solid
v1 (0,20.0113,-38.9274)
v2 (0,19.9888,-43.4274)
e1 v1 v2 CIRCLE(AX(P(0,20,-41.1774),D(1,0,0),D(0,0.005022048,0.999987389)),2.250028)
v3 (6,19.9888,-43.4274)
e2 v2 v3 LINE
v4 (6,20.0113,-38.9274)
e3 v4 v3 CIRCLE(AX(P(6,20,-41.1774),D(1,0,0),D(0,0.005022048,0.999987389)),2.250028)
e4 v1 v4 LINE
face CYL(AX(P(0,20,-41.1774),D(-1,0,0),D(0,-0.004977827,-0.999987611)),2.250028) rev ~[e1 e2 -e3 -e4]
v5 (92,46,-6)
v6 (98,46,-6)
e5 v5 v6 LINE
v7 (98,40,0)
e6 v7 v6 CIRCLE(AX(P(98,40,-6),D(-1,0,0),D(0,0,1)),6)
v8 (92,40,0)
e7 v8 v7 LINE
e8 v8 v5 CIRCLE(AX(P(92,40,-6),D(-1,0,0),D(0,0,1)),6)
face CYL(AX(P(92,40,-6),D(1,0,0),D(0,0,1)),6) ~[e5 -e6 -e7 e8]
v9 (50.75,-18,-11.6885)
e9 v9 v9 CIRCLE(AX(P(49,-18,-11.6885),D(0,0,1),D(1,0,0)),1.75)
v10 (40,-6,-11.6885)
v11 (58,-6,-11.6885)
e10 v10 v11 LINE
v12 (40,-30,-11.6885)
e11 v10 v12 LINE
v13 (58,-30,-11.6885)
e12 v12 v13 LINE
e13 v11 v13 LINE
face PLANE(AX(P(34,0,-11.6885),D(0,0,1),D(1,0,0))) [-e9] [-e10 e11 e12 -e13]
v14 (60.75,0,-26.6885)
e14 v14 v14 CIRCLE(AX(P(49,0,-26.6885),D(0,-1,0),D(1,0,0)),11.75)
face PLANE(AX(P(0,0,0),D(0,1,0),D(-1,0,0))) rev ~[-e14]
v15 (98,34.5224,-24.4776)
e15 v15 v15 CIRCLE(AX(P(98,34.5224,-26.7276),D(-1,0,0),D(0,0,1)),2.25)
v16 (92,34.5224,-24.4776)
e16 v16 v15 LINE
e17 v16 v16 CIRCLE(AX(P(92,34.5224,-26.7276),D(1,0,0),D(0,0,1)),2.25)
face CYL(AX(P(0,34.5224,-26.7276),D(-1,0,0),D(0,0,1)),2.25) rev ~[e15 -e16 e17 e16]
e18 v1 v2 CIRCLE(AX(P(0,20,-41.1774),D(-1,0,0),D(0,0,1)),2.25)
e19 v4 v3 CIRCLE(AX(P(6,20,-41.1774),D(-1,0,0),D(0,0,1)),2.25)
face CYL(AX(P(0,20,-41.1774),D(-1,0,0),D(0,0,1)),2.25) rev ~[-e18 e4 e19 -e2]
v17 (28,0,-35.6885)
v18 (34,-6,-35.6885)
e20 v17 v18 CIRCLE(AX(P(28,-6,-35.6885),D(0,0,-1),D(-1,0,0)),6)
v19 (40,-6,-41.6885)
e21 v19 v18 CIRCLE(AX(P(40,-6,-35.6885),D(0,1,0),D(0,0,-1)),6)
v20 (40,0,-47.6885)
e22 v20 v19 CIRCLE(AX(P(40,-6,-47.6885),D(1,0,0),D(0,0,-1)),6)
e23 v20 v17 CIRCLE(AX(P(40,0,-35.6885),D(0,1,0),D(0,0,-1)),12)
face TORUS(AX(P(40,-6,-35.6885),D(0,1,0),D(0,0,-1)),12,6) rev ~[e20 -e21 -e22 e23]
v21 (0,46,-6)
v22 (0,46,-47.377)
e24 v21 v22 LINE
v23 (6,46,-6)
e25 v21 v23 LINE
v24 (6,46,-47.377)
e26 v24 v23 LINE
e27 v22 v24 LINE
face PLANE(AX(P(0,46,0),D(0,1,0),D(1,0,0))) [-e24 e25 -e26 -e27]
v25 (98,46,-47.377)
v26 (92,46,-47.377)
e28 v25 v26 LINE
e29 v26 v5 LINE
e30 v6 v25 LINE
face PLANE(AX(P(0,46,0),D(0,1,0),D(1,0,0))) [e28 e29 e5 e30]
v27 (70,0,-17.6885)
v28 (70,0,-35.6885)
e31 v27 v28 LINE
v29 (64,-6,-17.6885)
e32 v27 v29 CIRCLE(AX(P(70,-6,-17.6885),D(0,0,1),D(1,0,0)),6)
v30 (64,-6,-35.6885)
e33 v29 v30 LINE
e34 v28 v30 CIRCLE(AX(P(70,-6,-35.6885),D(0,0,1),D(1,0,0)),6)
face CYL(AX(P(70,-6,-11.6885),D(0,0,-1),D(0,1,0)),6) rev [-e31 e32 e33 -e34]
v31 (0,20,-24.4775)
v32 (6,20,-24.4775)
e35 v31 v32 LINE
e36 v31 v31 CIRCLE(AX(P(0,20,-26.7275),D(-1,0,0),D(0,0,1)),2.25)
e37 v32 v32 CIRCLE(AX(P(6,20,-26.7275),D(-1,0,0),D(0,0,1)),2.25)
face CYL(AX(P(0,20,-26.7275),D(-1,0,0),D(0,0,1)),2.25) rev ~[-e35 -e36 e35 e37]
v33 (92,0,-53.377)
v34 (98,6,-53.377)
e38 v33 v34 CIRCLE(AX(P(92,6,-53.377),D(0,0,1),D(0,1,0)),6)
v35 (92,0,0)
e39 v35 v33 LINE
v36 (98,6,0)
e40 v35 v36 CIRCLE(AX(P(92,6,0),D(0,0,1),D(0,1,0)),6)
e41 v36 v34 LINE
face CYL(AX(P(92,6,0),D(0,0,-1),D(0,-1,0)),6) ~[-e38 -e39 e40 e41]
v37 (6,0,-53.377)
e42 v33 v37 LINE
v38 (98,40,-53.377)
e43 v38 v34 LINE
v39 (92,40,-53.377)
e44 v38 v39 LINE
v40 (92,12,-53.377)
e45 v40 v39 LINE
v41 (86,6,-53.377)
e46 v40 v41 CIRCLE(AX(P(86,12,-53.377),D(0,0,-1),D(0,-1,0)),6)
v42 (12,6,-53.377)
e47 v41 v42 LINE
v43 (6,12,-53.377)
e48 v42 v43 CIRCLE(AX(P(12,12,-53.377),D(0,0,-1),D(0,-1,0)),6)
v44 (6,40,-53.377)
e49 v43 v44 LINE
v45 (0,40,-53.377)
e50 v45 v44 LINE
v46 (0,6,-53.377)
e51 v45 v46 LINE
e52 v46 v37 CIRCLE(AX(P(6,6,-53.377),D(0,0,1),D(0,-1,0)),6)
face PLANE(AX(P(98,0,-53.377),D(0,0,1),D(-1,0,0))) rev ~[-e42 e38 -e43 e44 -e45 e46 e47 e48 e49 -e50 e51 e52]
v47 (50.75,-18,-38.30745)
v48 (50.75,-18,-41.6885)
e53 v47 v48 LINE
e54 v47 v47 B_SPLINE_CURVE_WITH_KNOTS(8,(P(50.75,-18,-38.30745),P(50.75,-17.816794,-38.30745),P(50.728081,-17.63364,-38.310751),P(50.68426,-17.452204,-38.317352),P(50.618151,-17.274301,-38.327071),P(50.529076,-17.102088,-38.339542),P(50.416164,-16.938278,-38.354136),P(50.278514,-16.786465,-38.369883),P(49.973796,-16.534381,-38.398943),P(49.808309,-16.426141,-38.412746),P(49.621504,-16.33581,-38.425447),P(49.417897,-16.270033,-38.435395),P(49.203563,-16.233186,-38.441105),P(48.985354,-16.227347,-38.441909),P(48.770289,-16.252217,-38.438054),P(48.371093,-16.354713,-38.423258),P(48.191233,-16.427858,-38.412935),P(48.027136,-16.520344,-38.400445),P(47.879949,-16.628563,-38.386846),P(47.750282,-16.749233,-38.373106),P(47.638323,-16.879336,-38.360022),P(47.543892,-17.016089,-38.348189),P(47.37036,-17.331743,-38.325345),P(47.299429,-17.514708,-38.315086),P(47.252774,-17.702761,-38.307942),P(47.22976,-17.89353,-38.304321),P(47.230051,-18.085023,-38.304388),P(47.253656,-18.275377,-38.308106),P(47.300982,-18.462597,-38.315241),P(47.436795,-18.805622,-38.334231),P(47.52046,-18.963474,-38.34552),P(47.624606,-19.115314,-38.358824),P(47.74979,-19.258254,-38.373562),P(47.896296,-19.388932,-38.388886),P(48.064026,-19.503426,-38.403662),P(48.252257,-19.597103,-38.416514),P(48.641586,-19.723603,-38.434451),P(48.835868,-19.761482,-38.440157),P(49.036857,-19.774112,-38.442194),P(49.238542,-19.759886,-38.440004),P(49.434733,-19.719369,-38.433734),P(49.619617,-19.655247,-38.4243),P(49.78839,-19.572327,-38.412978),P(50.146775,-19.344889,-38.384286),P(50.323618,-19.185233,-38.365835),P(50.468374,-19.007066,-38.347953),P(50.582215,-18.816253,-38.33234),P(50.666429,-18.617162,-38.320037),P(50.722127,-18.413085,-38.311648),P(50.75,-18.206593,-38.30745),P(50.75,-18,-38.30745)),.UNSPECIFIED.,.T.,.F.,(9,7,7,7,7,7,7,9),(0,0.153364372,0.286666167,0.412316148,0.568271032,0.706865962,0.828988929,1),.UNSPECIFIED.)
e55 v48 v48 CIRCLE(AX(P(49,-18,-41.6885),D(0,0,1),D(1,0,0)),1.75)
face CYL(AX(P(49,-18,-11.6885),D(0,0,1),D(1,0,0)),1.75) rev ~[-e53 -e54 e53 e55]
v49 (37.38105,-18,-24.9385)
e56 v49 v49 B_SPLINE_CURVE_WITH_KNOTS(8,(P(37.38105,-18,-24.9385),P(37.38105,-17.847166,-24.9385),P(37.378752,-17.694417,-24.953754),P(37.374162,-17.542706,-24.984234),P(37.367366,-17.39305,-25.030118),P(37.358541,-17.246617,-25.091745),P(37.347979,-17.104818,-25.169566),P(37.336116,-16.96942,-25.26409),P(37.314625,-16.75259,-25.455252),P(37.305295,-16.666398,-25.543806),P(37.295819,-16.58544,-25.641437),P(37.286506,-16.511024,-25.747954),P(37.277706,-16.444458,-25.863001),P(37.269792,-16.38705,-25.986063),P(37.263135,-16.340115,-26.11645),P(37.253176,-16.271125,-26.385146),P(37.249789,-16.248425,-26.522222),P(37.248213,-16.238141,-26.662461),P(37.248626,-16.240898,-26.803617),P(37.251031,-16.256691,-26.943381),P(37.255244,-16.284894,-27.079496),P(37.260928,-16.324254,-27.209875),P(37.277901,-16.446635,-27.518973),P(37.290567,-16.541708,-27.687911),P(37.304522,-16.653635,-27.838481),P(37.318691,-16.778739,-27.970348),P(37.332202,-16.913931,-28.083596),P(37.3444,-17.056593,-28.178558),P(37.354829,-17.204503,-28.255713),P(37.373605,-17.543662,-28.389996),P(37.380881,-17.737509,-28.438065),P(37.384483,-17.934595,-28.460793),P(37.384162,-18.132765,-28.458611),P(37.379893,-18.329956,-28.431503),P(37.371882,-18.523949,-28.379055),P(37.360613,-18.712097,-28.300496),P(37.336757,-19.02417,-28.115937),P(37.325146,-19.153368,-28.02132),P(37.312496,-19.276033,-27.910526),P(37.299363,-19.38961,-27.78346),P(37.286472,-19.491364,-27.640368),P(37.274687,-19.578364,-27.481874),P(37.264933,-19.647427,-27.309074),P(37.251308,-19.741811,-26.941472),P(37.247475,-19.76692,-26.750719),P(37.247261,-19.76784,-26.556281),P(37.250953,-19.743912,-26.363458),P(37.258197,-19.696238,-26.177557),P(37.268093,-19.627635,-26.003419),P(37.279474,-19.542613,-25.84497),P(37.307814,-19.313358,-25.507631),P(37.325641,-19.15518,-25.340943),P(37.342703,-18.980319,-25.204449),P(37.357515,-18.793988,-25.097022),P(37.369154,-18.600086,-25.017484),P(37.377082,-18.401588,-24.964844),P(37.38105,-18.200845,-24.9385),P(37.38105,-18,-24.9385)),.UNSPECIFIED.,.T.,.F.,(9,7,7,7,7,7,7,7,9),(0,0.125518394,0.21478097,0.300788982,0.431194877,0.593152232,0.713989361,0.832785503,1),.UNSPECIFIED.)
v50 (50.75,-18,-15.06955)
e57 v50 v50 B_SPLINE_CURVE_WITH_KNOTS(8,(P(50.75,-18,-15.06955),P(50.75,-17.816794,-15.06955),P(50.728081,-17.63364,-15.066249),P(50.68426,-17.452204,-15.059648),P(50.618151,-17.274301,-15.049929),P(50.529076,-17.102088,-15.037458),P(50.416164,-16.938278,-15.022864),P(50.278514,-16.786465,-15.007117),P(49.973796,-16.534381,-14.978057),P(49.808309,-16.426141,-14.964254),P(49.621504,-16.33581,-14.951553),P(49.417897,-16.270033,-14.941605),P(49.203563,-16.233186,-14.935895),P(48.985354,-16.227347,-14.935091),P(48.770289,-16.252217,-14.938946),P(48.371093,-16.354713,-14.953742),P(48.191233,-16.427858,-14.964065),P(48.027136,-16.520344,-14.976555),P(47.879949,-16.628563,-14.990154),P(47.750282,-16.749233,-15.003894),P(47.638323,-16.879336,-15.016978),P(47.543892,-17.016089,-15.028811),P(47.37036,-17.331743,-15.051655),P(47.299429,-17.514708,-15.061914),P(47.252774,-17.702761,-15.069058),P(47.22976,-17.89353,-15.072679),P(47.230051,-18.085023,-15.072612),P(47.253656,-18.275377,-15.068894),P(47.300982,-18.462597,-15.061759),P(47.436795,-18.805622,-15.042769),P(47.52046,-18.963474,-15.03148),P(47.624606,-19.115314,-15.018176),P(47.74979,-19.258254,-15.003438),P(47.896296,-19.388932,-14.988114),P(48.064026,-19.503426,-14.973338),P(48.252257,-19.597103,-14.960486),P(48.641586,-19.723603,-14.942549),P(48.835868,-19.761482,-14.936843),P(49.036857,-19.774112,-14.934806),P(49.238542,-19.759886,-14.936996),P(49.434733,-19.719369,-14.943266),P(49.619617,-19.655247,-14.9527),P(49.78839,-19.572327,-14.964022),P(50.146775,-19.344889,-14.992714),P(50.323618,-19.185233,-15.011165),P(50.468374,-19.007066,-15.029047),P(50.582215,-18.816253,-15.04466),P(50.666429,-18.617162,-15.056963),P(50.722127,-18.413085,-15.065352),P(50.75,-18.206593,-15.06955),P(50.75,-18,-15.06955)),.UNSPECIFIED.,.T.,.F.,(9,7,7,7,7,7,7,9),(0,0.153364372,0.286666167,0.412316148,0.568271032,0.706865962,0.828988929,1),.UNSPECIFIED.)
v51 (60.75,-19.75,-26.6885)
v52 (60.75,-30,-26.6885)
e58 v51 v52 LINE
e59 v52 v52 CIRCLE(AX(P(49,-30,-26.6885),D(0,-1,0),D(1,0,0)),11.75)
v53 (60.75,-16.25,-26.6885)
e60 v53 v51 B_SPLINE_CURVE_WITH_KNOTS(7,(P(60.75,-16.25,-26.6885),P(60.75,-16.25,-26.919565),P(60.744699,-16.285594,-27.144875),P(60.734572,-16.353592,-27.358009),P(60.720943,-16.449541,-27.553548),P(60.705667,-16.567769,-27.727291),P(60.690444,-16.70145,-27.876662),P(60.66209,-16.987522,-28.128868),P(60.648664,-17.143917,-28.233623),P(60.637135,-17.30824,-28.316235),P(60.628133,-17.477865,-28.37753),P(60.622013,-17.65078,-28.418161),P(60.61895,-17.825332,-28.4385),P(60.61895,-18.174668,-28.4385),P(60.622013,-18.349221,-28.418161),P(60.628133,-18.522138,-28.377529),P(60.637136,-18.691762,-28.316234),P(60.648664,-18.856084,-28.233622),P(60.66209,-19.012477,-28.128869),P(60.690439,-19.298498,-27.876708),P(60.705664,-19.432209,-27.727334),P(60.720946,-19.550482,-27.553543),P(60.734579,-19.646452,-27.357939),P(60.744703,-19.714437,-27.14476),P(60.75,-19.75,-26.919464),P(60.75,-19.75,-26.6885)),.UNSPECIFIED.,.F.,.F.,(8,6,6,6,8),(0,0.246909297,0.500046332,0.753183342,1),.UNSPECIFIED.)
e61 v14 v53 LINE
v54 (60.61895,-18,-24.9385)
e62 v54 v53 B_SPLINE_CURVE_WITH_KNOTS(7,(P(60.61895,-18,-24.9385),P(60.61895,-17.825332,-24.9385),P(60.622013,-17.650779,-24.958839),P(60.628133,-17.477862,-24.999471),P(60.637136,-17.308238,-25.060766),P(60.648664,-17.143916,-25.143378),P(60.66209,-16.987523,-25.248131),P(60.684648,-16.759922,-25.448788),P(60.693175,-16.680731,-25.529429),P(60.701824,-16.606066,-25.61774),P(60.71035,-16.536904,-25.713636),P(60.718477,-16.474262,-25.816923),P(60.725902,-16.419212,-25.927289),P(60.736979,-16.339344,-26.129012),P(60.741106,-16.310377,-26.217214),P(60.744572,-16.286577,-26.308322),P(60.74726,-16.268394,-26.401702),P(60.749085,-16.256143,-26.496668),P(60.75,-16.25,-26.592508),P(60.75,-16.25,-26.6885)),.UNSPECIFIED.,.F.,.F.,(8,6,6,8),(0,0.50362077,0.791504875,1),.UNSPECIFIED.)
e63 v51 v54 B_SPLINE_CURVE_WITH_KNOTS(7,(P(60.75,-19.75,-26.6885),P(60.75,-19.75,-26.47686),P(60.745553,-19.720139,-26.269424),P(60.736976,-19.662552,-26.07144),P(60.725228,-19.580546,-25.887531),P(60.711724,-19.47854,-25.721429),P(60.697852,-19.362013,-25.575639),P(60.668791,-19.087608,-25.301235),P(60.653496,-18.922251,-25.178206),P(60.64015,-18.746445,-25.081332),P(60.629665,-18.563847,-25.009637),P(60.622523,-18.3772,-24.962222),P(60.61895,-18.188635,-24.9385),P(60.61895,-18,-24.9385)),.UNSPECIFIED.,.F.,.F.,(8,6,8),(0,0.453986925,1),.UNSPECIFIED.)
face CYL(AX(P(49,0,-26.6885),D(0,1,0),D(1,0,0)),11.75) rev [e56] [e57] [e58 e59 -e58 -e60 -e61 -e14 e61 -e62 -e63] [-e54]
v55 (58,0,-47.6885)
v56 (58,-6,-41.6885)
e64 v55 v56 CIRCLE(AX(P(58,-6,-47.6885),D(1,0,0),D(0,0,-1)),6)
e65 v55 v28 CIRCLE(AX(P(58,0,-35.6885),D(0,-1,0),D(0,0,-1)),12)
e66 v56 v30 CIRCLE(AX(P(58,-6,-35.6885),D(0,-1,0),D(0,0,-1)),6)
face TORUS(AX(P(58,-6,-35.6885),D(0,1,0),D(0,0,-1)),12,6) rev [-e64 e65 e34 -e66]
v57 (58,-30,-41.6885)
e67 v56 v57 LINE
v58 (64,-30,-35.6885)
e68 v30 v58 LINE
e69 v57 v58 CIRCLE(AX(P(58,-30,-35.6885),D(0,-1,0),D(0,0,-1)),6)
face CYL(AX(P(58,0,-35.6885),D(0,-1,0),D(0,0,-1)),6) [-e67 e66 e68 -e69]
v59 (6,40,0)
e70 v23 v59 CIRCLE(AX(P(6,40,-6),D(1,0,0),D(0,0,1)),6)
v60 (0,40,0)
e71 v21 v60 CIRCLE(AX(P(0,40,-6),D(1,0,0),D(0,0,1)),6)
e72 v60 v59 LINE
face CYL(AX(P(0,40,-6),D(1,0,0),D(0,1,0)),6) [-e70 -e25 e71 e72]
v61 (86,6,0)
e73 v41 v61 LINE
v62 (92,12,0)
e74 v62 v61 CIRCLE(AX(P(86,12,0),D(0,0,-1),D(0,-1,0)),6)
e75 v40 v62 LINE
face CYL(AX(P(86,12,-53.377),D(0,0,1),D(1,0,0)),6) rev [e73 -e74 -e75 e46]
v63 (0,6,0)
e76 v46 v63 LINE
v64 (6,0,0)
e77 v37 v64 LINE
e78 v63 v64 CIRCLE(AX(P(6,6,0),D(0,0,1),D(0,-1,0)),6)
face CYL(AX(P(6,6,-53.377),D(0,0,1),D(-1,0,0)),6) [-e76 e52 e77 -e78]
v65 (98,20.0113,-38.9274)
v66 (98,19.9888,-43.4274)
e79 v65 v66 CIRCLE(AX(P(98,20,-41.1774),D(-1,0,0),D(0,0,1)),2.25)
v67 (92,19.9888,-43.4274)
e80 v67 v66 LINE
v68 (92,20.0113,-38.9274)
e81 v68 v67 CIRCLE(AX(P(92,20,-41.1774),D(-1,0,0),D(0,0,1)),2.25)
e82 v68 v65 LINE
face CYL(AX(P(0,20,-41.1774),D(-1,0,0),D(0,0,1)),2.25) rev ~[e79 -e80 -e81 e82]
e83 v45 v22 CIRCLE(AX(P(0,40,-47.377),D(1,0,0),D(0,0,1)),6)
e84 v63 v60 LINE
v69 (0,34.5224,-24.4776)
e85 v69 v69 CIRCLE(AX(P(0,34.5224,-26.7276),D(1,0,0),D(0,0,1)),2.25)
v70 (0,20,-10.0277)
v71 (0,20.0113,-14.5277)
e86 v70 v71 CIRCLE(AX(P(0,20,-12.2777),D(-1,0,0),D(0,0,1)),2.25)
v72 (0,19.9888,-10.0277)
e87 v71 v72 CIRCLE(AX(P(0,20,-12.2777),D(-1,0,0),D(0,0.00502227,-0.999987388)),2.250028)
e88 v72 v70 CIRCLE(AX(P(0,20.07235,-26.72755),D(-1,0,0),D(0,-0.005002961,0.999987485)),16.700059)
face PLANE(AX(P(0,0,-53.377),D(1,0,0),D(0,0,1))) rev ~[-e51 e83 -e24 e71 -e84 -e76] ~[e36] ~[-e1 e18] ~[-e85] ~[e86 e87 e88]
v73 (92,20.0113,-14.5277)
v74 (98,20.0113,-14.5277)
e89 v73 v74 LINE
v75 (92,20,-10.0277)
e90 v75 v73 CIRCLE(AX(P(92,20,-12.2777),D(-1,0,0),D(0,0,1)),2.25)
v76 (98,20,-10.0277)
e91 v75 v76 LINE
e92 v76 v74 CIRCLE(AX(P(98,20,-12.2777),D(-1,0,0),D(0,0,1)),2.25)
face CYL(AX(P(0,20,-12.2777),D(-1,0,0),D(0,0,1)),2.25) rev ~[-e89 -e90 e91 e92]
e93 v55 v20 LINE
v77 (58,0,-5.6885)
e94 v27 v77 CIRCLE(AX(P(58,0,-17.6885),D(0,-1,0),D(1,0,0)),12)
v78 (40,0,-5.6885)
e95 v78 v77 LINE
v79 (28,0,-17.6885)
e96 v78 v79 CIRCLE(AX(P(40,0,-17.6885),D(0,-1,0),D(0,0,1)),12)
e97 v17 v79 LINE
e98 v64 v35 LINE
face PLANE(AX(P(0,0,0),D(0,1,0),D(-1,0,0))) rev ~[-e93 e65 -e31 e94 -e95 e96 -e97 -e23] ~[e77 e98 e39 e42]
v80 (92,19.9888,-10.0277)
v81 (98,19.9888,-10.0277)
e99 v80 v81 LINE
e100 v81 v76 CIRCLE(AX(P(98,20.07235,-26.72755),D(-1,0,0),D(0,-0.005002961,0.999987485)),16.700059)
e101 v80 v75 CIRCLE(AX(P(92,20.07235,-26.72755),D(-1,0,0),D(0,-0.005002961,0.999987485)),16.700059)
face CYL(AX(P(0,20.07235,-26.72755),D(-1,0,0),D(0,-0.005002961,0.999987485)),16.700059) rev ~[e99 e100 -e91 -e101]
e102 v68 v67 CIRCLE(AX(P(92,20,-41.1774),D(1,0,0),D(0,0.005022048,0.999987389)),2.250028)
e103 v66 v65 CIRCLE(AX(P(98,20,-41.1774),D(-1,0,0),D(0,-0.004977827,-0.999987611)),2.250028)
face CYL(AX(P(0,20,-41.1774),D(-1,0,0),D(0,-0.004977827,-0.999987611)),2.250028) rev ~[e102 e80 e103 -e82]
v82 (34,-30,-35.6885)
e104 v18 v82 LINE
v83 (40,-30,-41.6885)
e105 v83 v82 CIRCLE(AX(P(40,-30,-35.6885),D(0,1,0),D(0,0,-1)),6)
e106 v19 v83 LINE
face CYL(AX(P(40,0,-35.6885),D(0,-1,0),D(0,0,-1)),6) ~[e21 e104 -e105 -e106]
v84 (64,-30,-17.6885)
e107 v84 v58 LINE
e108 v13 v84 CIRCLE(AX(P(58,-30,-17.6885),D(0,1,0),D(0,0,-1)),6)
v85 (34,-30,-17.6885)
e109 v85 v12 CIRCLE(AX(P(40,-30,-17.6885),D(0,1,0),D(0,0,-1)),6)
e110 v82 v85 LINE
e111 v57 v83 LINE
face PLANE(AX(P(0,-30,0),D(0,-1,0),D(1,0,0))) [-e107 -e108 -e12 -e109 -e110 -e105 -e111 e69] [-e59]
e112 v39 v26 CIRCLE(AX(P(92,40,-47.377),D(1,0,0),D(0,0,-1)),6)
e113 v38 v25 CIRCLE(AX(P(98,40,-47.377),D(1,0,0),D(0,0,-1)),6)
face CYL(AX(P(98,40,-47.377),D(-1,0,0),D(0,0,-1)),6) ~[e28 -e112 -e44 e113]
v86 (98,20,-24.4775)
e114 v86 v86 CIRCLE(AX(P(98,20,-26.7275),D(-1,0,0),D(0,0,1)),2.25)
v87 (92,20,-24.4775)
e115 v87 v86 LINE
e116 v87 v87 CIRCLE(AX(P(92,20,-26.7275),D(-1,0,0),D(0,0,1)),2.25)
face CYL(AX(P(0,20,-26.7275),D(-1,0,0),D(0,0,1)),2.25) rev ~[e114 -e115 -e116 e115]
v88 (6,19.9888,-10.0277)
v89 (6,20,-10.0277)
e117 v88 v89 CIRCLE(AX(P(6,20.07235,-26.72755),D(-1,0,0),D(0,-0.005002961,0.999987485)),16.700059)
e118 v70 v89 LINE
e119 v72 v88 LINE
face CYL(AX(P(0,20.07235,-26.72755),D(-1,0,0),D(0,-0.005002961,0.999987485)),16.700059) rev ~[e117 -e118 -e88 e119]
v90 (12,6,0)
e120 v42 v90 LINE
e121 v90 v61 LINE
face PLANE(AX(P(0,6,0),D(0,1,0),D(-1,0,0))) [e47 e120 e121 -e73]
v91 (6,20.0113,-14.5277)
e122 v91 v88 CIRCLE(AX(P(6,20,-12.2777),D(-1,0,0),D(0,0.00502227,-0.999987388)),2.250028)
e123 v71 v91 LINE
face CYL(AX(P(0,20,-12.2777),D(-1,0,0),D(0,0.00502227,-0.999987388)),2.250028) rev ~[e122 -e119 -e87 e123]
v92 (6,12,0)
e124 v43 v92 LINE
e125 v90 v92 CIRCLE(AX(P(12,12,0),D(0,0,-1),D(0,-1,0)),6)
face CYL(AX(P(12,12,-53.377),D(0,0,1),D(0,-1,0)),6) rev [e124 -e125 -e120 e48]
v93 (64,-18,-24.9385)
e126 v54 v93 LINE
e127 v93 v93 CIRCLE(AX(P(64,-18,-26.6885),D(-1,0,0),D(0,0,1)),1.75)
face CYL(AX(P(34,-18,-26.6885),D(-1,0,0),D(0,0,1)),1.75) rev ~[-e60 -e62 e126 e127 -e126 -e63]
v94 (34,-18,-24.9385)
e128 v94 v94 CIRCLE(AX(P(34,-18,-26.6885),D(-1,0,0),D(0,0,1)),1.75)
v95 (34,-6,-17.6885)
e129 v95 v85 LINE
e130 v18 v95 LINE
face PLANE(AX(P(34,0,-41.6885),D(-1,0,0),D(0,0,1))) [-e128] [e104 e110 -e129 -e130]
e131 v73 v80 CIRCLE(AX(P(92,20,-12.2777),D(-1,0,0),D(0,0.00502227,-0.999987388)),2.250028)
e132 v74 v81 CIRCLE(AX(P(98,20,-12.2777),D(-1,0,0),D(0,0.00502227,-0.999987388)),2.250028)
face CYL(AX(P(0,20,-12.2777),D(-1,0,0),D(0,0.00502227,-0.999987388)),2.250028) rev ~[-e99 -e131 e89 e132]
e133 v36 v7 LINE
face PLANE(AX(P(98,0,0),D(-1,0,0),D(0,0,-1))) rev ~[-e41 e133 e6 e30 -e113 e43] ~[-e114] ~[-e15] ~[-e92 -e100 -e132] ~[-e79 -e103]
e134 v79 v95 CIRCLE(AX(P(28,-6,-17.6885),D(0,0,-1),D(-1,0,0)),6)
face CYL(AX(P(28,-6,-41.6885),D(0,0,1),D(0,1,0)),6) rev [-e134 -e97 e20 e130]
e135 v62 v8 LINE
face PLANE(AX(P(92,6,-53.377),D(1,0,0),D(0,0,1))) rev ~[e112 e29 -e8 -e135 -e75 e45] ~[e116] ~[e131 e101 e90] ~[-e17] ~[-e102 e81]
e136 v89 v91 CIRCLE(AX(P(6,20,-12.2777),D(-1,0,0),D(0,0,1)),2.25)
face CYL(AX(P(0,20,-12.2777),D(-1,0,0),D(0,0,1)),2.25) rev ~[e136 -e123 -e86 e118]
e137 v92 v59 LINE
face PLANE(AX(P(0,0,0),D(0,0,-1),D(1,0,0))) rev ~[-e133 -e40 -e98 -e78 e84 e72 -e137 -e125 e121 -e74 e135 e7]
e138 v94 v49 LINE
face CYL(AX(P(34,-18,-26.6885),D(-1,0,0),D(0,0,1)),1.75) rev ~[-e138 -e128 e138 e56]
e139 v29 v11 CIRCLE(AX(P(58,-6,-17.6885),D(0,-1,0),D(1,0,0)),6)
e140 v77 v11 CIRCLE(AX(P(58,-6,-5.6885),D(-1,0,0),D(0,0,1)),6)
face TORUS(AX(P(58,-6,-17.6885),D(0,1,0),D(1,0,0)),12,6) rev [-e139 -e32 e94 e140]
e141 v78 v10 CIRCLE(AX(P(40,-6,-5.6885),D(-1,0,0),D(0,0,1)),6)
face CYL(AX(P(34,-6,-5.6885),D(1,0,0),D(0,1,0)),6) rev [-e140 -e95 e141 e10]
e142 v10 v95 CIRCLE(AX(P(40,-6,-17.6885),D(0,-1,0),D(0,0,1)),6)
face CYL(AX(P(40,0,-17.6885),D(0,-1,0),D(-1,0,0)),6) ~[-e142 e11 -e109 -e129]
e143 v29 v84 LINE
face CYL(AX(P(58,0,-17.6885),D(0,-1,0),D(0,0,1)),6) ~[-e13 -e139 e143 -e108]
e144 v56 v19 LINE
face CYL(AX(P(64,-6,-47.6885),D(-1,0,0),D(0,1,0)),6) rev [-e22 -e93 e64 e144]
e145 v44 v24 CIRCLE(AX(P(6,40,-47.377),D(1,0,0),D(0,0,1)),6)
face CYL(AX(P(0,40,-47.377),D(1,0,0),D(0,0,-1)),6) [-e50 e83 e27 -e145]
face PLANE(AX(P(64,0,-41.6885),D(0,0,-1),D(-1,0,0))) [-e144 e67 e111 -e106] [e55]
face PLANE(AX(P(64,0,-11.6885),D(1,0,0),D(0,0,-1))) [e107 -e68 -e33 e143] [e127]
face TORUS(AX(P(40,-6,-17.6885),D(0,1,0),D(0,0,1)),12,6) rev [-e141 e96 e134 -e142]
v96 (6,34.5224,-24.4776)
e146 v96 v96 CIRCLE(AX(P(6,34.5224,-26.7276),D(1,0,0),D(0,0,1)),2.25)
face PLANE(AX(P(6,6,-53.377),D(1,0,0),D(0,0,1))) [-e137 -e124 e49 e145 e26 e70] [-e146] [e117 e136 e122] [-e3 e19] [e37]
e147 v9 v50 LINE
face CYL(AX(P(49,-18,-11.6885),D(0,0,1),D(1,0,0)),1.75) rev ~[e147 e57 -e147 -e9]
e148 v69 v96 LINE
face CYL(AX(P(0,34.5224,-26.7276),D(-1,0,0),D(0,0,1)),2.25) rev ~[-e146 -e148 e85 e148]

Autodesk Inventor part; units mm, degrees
ref_plane "YZ Plane" through (0, 0, 0) normal (1, 0, 0) x (0, 1, 0)
ref_plane "XZ Plane" through (0, 0, 0) normal (0, 1, 0) x (-1, 0, 0)
ref_plane "XY Plane" through (0, 0, 0) normal (0, 0, 1) x (1, 0, 0)
sketch "Sketch1" plane through (0, 0, 0) normal (0, 1, 0) x (-1, 0, 0)
  line L0 (0, 0) -> (-98, 0)
  line L1 (-98, 0) -> (-98, -53.377)
  line L2 (-98, -53.377) -> (0, -53.377)
  line L3 (0, -53.377) -> (0, 0)
  line L4 (-98, -53.377) -> (0, 0) construction
  dimension "d0" = 98
  dimension "d1" = 53.377
extrude "Extrusion1" add sketch "Sketch1" along normal blind 6
sketch "Sketch2" plane through (0, 6, 0) normal (0, 1, 0) x (1, 0, 0)
  line L0 (98, 0) -> (98, 53.377) projected
  line L1 (0, 0) -> (98, 0) projected
  line L2 (98, 53.377) -> (92, 53.377)
  line L3 (92, 53.377) -> (92, 0)
  line L4 (92, 0) -> (98, 0)
  line L5 (98, 0) -> (98, 53.377)
  line L6 (0, 53.377) -> (6, 53.377)
  line L7 (6, 53.377) -> (6, 0)
  line L8 (6, 0) -> (0, 0)
  line L9 (0, 0) -> (0, 53.377)
  dimension "d4" = 6
  dimension "d5" = 6
extrude "Extrusion2" add sketch "Sketch2" along normal blind 40
sketch "Sketch3" plane through (0, 0, -53.377) normal (-1, 0, 0) x (0, 0, 1)
  arc A0 (41.0993, 20) -> (12.1996, 20) centre (26.6494, 20.0723) ccw construction
  arc A1 (43.3493, 19.9888) -> (9.9496, 19.9888) centre (26.6494, 20.0723) ccw
  arc A2 (38.8493, 20.0113) -> (14.4496, 20.0113) centre (26.6494, 20.0723) ccw
  arc A3 (38.8493, 20.0113) -> (43.3493, 19.9888) centre (41.0993, 20) ccw
  arc A4 (9.9496, 19.9888) -> (14.4496, 20.0113) centre (12.1996, 20) ccw
  circle A5 centre (26.6495, 20) radius 2.25
  circle A6 centre (41.0993, 20) radius 2.25
  circle A7 centre (12.1996, 20) radius 2.25
  circle A8 centre (26.6494, 34.5224) radius 2.25
  point P0 (53.377, 0)
  dimension "d8" = 4.5
  dimension "d9" = 4.5
  dimension "d36" = 14.45
extrude "Extrusion3" cut sketch "Sketch3" against normal blind 110 and the other way blind 12.5 contours A3 A6 A1 | A8 | A7 A4 | A5
sketch "Sketch4" plane through (0, 0, 0) normal (0, -1, 0) x (1, 0, 0)
  line L0 (98, -53.377) -> (92, -53.377) construction
  line L1 (98, -53.377) -> (0, 0) construction
  line L2 (64, -41.6885) -> (34, -41.6885)
  line L3 (34, -41.6885) -> (34, -11.6885)
  line L4 (34, -11.6885) -> (64, -11.6885)
  line L5 (64, -11.6885) -> (64, -41.6885)
  line L6 (64, -41.6885) -> (34, -11.6885) construction
  line L7 (34, -41.6885) -> (64, -11.6885) construction
  circle A0 centre (49, -26.6885) radius 11.75
  dimension "d16" = 30
  dimension "d17" = 30
  dimension "d18" = 23.5
extrude "Extrusion4" add sketch "Sketch4" along normal blind 30
sketch "Sketch5" plane through (34, 0, -11.6885) normal (0, 0, 1) x (1, 0, 0)
  line L0 (0, -30) -> (30, -30) construction
  line L1 (30, 0) -> (0, 0) construction
  circle A0 centre (15, -18) radius 1.75
  point P0 (-34, 0)
  dimension "d21" = 3.5
  dimension "d26" = 12
extrude "Extrusion5" cut sketch "Sketch5" against normal blind 33
sketch "Sketch7" plane through (34, 0, -41.6885) normal (-1, 0, 0) x (0, 0, 1)
  line L0 (0, 0) -> (0, -30) construction
  line L1 (30, 0) -> (30, -30) construction
  circle A0 centre (15, -18) radius 1.75
  line L2 (30, -30) -> (0, -30) projected
  point P0 (41.6885, 0)
  dimension "d31" = 3.5
  dimension "d32" = 12
extrude "Extrusion7" cut sketch "Sketch7" against normal blind 33
fillet "Fillet3" radius 6 16 edges at (0, 0, -26.6885) (98, 0, -26.6885) (64, -15, -41.6885) (34, -15, -41.6885) (49, 0, -41.6885) (34, 0, -26.6885) (34, -15, -11.6885) (49, 0, -11.6885) (64, -15, -11.6885) (64, 0, -26.6885) (6, 6, -26.6885) (92, 6, -26.6885) (95, 46, 0) (3, 46, 0) (3, 46, -53.377) (95, 46, -53.377)
properties part number "Drone_holder_base"
